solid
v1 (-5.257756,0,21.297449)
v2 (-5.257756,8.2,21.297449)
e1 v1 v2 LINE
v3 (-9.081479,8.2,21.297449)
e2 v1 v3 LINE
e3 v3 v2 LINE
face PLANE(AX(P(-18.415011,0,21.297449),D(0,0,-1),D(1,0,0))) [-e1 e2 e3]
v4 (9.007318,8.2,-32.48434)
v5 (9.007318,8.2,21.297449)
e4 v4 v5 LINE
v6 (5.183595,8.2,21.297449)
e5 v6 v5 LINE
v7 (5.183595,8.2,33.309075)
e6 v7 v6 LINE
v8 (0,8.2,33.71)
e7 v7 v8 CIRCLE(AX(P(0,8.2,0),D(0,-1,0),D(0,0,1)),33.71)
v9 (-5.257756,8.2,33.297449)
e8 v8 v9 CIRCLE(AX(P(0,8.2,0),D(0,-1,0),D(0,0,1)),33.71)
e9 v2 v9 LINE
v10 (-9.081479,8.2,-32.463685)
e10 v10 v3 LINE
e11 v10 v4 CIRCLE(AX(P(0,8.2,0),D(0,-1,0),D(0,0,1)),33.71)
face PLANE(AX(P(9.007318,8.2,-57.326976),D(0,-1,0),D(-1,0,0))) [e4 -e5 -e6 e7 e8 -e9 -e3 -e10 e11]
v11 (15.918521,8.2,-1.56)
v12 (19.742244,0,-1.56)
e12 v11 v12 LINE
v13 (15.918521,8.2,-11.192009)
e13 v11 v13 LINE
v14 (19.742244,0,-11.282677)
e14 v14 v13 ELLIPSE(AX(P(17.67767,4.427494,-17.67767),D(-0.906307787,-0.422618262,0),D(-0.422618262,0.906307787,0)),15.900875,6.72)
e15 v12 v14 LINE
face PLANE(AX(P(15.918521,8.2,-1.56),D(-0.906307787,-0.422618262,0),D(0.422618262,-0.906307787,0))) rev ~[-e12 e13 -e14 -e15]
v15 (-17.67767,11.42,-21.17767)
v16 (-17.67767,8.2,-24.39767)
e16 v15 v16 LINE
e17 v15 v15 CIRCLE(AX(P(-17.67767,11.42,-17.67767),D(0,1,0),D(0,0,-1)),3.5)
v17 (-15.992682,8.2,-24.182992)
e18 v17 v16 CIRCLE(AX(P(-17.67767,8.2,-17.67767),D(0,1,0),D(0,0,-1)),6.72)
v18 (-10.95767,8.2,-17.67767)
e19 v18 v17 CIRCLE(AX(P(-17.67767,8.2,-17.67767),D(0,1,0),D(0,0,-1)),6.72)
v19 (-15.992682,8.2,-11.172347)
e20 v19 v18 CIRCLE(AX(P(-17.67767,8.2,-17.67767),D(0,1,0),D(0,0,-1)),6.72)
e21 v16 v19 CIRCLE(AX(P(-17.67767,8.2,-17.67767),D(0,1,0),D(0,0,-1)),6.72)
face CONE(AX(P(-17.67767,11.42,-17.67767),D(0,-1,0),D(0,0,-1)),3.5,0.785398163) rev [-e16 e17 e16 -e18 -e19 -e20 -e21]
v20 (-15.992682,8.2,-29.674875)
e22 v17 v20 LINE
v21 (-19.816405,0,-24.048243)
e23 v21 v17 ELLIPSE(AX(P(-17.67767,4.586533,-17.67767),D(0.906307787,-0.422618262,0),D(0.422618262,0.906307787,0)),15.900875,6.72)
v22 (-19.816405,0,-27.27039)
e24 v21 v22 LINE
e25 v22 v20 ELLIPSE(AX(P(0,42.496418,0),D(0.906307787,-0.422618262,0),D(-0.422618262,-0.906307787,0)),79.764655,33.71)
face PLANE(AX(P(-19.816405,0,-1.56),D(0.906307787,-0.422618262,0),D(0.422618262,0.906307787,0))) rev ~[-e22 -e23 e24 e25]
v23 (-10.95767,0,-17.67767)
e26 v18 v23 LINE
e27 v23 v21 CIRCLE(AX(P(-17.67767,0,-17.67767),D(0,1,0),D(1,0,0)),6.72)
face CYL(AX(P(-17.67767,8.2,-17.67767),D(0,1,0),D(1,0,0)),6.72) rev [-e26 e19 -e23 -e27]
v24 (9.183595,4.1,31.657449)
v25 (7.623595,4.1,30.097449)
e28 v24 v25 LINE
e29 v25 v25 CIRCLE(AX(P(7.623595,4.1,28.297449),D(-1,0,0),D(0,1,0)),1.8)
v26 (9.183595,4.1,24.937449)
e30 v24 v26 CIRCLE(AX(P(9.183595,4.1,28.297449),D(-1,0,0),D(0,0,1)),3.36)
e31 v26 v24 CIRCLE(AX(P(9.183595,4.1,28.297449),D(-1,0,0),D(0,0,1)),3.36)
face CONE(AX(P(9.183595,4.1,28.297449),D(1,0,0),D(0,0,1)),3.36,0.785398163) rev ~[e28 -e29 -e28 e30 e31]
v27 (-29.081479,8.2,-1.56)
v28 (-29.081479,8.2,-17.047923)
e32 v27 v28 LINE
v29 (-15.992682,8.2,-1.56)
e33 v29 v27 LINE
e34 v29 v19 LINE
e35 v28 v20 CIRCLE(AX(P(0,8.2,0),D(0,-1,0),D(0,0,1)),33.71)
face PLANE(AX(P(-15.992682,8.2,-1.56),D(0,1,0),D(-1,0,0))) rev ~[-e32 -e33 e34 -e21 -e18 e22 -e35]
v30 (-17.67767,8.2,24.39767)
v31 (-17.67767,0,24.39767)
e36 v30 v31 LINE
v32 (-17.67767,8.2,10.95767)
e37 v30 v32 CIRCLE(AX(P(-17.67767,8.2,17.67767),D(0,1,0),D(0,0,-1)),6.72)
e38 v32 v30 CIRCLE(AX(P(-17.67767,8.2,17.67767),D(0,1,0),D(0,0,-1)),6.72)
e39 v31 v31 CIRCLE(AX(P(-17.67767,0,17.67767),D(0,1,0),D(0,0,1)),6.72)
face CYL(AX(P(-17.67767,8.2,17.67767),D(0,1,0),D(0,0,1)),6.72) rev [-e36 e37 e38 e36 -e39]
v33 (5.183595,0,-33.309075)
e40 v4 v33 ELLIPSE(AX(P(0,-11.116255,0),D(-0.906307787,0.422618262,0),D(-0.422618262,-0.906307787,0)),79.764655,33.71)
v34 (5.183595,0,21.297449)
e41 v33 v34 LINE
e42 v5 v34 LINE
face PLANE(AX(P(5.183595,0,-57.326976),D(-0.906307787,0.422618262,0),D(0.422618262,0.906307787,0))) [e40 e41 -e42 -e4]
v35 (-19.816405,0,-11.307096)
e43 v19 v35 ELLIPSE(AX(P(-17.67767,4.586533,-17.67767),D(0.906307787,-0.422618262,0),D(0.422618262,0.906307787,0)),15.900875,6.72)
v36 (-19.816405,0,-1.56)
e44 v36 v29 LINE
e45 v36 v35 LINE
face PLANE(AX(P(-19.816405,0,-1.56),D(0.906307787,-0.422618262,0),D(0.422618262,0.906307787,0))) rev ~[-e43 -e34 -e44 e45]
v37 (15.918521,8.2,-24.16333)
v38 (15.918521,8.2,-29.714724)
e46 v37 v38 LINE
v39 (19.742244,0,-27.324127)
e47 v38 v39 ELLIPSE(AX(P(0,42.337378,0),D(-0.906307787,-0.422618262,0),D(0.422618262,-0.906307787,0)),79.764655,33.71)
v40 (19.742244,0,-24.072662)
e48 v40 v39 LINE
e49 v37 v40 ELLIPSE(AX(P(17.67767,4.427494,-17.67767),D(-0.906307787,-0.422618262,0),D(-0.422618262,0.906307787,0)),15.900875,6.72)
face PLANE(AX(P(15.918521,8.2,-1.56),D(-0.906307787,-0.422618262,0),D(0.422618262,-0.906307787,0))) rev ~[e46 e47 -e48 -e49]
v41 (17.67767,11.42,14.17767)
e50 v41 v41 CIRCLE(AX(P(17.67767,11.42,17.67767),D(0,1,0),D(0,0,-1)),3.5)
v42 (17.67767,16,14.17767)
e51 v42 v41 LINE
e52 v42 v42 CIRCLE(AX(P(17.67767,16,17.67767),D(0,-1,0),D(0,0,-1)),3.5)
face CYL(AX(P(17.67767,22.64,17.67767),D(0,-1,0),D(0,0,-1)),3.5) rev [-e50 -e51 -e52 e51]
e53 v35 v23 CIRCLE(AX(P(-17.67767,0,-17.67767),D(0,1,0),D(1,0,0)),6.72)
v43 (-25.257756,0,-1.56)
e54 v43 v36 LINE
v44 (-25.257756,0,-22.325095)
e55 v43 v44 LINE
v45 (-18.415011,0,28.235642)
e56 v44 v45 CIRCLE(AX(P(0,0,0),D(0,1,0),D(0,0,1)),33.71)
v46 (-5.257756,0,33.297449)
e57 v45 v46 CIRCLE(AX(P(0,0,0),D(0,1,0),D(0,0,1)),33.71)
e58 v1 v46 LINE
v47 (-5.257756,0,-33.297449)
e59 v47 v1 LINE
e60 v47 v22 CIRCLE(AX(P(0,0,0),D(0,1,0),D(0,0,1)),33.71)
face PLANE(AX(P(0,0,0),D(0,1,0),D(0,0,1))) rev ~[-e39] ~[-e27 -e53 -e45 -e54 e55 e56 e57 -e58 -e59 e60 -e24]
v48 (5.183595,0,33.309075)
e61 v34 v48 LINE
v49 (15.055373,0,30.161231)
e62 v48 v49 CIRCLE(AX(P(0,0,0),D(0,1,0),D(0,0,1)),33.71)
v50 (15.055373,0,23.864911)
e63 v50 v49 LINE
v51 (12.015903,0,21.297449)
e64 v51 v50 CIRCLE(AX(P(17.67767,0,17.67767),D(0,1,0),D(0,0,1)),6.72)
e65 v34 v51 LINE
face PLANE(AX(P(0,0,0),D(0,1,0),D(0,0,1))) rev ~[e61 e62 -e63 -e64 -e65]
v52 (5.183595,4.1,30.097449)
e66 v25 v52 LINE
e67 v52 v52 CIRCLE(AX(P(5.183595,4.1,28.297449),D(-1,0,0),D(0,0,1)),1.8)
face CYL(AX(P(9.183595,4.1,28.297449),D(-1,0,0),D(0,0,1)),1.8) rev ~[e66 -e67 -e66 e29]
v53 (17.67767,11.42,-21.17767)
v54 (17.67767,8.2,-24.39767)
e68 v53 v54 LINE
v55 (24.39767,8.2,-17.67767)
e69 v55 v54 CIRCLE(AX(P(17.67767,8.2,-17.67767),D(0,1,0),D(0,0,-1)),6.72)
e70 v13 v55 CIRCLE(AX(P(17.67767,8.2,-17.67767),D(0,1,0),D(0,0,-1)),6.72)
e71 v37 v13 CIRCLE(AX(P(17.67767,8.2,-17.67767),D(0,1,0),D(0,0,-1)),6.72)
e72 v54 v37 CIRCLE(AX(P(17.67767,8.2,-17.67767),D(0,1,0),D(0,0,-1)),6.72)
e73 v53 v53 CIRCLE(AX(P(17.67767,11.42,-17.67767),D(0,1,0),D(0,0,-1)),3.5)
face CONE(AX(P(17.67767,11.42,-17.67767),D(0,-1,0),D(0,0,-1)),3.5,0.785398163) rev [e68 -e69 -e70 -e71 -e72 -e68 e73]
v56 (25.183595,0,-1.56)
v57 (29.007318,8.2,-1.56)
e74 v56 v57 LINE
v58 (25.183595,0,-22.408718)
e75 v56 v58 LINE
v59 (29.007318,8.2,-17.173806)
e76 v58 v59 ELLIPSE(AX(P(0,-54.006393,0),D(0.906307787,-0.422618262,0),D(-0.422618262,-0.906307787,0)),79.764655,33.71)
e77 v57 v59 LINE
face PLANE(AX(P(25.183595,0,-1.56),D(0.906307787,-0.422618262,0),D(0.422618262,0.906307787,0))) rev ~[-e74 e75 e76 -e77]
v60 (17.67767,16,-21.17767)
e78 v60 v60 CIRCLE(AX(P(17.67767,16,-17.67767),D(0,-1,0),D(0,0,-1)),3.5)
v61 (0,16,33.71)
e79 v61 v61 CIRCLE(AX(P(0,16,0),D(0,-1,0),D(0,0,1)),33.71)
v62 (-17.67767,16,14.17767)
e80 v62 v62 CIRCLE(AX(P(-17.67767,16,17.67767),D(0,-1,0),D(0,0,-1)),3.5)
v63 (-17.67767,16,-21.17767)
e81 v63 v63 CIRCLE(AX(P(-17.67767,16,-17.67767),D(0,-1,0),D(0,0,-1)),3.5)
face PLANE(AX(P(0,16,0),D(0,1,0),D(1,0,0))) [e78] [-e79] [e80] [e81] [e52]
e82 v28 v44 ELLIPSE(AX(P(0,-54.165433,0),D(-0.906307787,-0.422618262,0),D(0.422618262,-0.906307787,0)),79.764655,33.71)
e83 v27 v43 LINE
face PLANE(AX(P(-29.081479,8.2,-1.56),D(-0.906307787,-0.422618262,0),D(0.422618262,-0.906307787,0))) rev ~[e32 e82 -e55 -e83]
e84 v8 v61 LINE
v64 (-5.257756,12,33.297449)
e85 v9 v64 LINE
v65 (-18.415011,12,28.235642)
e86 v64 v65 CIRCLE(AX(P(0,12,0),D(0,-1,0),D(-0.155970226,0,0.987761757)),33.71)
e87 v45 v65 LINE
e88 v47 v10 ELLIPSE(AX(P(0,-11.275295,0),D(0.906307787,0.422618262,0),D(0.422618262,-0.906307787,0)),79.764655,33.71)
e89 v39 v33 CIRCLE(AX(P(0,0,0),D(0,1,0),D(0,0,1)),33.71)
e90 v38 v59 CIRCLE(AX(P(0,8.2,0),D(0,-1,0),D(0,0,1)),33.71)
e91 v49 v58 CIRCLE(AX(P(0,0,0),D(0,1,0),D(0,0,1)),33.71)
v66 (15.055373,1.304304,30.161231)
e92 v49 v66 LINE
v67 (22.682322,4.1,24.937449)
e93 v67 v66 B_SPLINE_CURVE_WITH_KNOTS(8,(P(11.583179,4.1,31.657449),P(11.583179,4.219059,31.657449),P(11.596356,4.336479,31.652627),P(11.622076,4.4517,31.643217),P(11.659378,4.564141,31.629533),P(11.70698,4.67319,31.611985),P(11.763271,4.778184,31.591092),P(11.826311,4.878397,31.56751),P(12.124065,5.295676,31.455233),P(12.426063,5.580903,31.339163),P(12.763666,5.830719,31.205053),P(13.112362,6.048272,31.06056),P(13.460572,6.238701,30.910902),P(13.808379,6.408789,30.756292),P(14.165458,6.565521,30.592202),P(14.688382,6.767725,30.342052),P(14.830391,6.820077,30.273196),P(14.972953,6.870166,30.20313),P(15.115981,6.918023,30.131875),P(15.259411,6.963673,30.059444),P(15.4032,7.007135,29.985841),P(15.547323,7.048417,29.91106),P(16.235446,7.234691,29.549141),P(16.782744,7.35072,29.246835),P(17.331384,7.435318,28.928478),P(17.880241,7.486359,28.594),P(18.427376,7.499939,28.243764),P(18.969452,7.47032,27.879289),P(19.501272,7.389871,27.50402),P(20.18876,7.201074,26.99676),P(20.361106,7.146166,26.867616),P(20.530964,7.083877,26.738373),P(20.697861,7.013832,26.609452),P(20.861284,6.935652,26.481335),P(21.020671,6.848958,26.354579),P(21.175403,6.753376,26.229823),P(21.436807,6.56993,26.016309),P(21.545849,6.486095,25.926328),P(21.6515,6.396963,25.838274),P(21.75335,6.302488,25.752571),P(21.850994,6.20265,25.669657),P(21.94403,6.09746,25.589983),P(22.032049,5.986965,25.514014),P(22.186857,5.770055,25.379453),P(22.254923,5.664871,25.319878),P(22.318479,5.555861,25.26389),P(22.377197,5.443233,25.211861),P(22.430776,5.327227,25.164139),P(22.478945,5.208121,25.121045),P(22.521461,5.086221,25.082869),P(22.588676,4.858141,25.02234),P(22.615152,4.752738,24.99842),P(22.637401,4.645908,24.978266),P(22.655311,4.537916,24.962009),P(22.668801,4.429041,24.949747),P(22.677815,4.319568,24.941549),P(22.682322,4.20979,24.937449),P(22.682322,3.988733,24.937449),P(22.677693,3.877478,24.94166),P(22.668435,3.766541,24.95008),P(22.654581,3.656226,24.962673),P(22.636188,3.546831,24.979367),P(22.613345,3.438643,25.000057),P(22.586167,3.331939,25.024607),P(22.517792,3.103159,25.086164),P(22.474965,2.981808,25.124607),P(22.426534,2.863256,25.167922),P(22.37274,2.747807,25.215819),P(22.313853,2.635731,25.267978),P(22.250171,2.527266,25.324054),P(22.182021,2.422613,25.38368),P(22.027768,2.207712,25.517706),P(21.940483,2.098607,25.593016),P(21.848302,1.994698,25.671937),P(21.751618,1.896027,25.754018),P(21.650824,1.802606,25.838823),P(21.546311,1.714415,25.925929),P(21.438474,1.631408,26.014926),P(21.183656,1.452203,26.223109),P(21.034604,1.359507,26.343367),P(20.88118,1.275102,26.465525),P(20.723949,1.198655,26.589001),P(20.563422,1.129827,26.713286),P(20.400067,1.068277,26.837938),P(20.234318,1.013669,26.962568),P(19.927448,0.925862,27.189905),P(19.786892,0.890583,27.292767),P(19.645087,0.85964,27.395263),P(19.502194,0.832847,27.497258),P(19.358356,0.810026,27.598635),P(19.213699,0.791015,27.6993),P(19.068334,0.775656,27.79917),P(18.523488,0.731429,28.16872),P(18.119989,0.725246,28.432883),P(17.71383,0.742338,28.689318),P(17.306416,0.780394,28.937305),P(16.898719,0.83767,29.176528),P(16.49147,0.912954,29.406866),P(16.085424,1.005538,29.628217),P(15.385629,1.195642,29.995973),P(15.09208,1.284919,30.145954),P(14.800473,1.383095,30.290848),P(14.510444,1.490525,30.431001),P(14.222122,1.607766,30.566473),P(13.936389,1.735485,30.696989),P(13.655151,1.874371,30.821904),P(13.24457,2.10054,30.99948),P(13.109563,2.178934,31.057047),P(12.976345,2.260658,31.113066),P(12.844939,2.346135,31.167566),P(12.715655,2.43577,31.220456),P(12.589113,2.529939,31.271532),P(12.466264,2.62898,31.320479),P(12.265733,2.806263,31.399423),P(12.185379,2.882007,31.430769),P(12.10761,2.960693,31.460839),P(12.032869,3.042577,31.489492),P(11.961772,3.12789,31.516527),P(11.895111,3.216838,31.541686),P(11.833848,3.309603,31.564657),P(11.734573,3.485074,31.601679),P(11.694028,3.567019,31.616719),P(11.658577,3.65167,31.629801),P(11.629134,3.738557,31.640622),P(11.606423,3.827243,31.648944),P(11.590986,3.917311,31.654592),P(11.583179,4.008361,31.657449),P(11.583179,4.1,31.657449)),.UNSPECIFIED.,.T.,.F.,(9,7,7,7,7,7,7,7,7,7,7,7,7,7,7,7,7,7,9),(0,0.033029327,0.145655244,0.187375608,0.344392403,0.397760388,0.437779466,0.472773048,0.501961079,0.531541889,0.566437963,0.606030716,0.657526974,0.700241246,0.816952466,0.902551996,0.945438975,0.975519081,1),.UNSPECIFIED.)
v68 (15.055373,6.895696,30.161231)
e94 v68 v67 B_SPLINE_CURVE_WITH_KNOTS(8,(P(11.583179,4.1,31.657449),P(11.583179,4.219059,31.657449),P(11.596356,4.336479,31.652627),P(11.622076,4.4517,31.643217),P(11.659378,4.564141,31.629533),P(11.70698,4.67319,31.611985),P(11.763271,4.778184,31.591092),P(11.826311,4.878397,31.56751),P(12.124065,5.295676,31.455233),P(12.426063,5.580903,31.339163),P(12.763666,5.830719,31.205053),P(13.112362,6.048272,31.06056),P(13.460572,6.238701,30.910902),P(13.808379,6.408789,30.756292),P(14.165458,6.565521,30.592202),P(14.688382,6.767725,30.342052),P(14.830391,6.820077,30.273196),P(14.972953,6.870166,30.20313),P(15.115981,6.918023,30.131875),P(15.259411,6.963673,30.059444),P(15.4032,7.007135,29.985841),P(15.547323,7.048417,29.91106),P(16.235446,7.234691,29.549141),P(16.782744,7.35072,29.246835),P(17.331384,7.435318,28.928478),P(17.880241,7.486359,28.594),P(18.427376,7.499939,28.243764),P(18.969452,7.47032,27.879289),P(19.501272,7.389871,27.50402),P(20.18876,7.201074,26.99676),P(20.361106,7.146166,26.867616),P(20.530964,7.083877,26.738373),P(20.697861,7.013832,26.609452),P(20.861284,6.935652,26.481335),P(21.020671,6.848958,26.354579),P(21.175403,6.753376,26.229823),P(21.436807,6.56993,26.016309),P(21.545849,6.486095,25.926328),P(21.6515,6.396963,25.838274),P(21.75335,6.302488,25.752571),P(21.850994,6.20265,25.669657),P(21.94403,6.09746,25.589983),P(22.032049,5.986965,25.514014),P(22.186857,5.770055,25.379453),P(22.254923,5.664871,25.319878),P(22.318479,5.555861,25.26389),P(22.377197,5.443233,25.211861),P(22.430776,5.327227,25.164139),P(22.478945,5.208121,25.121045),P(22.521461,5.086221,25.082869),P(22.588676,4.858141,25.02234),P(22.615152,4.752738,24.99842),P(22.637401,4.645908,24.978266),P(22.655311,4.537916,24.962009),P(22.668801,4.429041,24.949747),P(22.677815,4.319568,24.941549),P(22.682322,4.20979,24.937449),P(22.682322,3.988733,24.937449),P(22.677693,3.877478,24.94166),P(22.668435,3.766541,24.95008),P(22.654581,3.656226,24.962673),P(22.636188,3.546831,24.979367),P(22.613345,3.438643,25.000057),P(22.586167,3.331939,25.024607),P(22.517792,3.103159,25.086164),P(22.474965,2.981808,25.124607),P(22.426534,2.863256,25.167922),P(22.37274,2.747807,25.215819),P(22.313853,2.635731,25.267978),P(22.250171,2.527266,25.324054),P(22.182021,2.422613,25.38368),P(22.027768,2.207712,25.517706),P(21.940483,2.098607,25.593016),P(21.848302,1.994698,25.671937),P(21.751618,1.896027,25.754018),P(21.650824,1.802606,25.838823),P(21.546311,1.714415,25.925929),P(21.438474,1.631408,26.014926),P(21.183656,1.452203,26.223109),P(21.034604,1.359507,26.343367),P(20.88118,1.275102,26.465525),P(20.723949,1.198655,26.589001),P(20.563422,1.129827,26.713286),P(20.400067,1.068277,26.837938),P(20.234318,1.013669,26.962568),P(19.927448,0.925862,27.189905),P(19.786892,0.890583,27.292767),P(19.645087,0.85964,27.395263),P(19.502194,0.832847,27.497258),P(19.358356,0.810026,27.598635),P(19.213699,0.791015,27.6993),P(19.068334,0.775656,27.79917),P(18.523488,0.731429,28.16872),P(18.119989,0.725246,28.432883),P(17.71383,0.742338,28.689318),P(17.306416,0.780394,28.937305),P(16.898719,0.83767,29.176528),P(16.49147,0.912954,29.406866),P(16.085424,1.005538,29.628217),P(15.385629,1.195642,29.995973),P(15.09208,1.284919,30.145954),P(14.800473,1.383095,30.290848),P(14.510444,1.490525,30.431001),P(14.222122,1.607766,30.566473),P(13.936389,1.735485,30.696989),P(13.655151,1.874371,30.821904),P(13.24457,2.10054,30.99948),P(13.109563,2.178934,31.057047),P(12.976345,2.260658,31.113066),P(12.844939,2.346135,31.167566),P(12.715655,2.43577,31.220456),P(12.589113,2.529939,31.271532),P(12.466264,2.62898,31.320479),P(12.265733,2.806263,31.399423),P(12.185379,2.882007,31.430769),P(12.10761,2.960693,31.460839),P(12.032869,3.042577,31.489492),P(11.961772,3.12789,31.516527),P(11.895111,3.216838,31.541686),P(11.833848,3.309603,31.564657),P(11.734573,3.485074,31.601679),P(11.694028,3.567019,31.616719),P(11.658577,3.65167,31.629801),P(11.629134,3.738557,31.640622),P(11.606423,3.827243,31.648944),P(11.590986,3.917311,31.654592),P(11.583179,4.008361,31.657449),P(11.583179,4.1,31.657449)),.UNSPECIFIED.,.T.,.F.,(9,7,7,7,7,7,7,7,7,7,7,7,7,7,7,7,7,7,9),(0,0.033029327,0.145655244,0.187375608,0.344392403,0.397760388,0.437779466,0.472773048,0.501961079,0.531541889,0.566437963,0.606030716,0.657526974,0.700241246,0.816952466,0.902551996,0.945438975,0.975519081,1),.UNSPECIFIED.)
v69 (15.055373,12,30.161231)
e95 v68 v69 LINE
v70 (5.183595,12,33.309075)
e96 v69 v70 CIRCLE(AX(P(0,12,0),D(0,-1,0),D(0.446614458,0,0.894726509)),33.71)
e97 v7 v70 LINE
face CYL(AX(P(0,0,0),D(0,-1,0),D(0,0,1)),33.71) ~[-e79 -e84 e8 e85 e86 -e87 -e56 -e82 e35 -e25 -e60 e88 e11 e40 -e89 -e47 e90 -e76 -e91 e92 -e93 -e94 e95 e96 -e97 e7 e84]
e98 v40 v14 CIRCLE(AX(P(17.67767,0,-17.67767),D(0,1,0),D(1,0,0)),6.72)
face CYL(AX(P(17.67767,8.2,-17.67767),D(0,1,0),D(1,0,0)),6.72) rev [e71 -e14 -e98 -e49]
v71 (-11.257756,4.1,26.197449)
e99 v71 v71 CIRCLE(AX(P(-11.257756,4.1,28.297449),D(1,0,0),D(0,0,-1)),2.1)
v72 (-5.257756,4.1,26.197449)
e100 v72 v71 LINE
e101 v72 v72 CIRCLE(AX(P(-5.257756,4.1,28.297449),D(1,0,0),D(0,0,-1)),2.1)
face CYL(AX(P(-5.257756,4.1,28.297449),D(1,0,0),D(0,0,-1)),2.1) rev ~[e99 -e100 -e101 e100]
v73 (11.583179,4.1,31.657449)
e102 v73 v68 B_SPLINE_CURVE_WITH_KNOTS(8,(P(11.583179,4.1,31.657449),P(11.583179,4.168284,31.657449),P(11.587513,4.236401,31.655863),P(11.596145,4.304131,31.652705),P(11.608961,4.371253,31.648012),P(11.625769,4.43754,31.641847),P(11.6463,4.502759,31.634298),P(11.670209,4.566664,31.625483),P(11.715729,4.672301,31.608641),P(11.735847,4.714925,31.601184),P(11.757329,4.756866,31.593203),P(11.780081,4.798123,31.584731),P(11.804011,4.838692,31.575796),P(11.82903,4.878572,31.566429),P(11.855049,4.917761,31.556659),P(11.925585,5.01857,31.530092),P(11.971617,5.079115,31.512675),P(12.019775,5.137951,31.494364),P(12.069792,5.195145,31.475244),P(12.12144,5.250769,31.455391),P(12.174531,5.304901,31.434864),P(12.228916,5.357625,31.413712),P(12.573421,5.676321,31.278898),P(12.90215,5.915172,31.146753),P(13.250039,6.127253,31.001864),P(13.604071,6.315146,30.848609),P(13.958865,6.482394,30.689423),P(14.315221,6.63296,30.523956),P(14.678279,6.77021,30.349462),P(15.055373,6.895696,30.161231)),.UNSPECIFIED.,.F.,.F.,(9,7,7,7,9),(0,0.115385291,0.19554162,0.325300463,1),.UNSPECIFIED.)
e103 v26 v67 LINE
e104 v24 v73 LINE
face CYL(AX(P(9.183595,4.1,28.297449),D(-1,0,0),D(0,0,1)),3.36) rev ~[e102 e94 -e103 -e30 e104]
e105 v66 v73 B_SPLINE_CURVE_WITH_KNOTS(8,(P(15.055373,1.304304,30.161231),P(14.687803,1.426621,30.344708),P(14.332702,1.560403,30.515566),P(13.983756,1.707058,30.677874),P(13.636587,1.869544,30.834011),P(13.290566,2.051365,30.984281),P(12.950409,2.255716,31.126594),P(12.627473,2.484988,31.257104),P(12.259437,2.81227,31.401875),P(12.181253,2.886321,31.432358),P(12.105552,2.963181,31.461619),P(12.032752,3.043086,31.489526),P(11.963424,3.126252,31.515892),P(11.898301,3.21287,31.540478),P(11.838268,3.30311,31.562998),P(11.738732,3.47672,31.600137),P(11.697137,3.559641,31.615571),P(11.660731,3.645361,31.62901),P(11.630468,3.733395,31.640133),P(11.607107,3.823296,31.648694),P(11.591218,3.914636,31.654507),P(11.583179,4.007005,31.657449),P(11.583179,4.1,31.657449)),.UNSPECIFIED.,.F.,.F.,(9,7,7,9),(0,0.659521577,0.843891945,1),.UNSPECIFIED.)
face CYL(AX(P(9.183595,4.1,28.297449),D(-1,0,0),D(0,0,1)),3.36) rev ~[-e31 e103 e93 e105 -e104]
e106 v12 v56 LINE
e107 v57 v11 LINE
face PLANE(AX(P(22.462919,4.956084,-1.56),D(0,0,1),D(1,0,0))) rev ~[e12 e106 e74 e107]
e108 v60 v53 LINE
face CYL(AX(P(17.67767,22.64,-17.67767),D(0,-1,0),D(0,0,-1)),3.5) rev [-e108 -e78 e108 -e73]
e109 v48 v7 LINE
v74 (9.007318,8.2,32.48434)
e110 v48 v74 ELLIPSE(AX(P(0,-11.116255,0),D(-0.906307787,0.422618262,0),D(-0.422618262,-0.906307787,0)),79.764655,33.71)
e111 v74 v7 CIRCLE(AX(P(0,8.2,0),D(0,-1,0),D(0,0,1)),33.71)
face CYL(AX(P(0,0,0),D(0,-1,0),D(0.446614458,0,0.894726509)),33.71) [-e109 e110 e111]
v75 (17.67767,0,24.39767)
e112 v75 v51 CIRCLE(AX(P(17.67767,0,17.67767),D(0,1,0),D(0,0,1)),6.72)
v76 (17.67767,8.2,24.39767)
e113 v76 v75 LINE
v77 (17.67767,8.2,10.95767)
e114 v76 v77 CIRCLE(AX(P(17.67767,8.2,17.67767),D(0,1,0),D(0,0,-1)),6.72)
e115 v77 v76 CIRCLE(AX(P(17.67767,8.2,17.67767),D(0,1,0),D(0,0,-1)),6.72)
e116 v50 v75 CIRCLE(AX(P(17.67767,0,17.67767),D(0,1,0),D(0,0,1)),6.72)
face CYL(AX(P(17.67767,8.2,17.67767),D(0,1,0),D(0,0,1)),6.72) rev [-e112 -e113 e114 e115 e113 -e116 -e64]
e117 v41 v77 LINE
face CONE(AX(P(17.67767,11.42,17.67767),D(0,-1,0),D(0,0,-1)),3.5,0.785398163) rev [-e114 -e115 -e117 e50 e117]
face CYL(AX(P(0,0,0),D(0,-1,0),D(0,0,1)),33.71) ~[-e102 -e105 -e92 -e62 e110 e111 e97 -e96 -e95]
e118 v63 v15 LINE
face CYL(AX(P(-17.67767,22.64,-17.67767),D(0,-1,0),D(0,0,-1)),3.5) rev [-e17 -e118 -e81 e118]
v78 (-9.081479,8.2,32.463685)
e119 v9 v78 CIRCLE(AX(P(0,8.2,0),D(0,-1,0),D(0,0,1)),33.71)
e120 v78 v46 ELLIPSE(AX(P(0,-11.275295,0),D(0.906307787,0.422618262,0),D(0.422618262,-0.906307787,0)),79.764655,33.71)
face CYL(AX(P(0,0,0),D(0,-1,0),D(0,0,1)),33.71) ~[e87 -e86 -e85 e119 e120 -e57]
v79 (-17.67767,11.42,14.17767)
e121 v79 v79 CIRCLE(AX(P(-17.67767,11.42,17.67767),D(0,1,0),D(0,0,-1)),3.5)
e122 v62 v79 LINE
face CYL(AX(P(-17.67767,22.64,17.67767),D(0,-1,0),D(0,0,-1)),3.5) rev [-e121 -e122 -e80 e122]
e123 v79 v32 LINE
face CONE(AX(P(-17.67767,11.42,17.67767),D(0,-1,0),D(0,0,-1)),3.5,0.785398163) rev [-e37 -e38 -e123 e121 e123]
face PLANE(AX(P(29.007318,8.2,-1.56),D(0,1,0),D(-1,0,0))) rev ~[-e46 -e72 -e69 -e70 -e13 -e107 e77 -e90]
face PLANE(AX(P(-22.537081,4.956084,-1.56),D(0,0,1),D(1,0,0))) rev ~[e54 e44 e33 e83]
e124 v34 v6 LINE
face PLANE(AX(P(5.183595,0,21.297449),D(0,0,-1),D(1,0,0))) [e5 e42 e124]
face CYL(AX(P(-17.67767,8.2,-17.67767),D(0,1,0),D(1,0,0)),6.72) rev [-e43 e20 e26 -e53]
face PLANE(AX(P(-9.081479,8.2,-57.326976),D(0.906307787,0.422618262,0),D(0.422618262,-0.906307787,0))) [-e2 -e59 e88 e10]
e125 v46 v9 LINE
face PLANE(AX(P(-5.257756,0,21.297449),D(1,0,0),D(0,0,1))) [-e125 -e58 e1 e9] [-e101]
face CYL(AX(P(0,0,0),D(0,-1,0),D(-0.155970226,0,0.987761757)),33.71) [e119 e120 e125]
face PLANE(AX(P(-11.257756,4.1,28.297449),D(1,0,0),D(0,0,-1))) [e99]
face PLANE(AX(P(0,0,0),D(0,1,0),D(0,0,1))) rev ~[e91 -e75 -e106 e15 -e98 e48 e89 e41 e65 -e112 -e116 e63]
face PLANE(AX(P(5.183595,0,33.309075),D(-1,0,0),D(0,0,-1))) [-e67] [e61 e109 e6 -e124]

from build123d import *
from build123d.topology import SkipClean

# Parameters (mm, degrees)
SKETCH63_R                                           = 33.71
BOSS_EXTRUDE14_DEPTH                                 = 30
CUT_EXTRUDE16_START                                  = -1.56
CUT_EXTRUDE16_DEPTH                                  = 55.766975775
CUT_EXTRUDE17_DEPTH                                  = 57.326975775
CUT_EXTRUDE17_DEPTH_BACK                             = 57.326975775
BOSS_EXTRUDE15_DEPTH                                 = 12
CUT_EXTRUDE18_START                                  = -5.22
SKETCH69_R                                           = 2.1
CUT_EXTRUDE18_DEPTH                                  = 6
SKETCH70_R                                           = 3.36
SKETCH70_R_2                                         = 2.1
CUT_EXTRUDE19_DEPTH                                  = 63.259333256
CSK_FOR_M3_HEX_SOCKET_COUNTERSUNK_CAP_SC_D           = 3.6
CSK_FOR_M3_HEX_SOCKET_COUNTERSUNK_CAP_SC_DEPTH       = 14.440351168
CSK_FOR_M3_HEX_SOCKET_COUNTERSUNK_CAP_SC_CSINK_D     = 6.72
CSK_FOR_M3_HEX_SOCKET_COUNTERSUNK_CAP_SC_CSINK_ANGLE = 90
CSK_FOR_M3_HEX_SOCKET_COUNTERSUNK_CAP_SC_TIP         = 1.081549114
SKETCH74_R                                           = 44.614790837
CUT_EXTRUDE20_DEPTH                                  = 14
CSK_FOR_M6_HEX_SOCKET_COUNTERSUNK_CA_2_COUNT         = 2
CSK_FOR_M6_HEX_SOCKET_COUNTERSUNK_CA_2_PITCH         = 35.355339059
CSK_FOR_M6_HEX_SOCKET_COUNTERSUNK_CA_3_COUNT         = 2
CSK_FOR_M6_HEX_SOCKET_COUNTERSUNK_CA_3_PITCH         = 35.355339059
CSK_FOR_M6_HEX_SOCKET_COUNTERSUNK_CA_4_COUNT         = 2
CSK_FOR_M6_HEX_SOCKET_COUNTERSUNK_CA_4_PITCH         = 50
SKETCH79_R                                           = 6.72
CUT_EXTRUDE21_DEPTH                                  = 15


with BuildPart() as part:
    # Sketch63 → Boss-Extrude14 (new body)
    with BuildSketch(Plane(origin=(0, 0, 0), x_dir=(1, 0, 0), z_dir=(0, 1, 0))):
        with Locations(Location((0, 0, 0), (0, 0, 270))):
            Circle(SKETCH63_R)
    extrude(amount=BOSS_EXTRUDE14_DEPTH)

    # Sketch67 → Cut-Extrude16 (cut, through all)
    with BuildSketch(Plane.XY.offset(CUT_EXTRUDE16_START)):
        Polygon((-25.257756337, 0), (-19.816405169, 0), (-15.992682372, 8.2), (-29.081479134, 8.2), align=None)
        Polygon((19.742243663, 0), (25.183594831, 0), (29.007317628, 8.2), (15.918520866, 8.2), align=None)
    extrude(amount=-CUT_EXTRUDE16_DEPTH, mode=Mode.SUBTRACT)

    # Sketch67<3> → Cut-Extrude17 (cut, two sides: drawn at the far end of the back side and taken through both)
    with BuildSketch(Plane.XY.offset(-CUT_EXTRUDE17_DEPTH_BACK)):
        Polygon((-5.257756337, 0), (5.183594831, 0), (9.007317628, 8.2), (-9.081479134, 8.2), align=None)
    extrude(amount=CUT_EXTRUDE17_DEPTH + CUT_EXTRUDE17_DEPTH_BACK, mode=Mode.SUBTRACT)

    # Sketch68 → Boss-Extrude15 (add)
    with SkipClean():  # the faces are left unmerged after this step: merging them gives an invalid solid
        with BuildSketch(Plane.XZ):
            with BuildLine():
                Line((-5.257756337, 21.297448826), (-5.257756337, 33.297448826))
                ThreePointArc((-5.257756337, 33.297448826), (-12.10394362, 31.462019148), (-18.415011022, 28.235641821))
                Line((-18.415011022, 28.235641821), (-18.415011022, 21.297448826))
                Line((-18.415011022, 21.297448826), (-5.257756337, 21.297448826))
            make_face()
            with BuildLine():
                ThreePointArc((15.05537339, 30.161230613), (10.24115174, 32.116707662), (5.183594831, 33.309074509))
                Line((5.183594831, 33.309074509), (5.183594831, 21.297448826))
                Line((5.183594831, 21.297448826), (15.05537339, 21.297448826))
                Line((15.05537339, 21.297448826), (15.05537339, 30.161230613))
            make_face()
        extrude(amount=-BOSS_EXTRUDE15_DEPTH)

    # Sketch69 → Cut-Extrude18 (cut)
    with SkipClean():  # the faces are left unmerged after this step: merging them gives an invalid solid
        with BuildSketch(Plane(origin=(-0.037756337, 0, 0), x_dir=(0, 0, -1), z_dir=(1, 0, 0)).offset(CUT_EXTRUDE18_START)):
            with Locations((-28.297448826, 4.1)):
                Circle(SKETCH69_R)
        extrude(amount=-CUT_EXTRUDE18_DEPTH, mode=Mode.SUBTRACT)

    # Sketch70 → Cut-Extrude19 (cut, through all)
    # profile 1 of 2: a face of its own
    with SkipClean():  # the faces are left unmerged after this step: merging them gives an invalid solid
        with BuildSketch(Plane.ZY.offset(-9.183594831)):
            with Locations((28.297448826, 4.1)):
                Circle(SKETCH70_R)
            with Locations(Location((28.297448826, 4.1, 0), (0, 0, 180))):
                Circle(SKETCH70_R_2, mode=Mode.SUBTRACT)
        # profile 2 of 2: a face of its own
        with BuildSketch(Plane.ZY.offset(-9.183594831)):
            with Locations(Location((28.297448826, 4.1, 0), (0, 0, 180))):
                Circle(SKETCH70_R_2)
        extrude(amount=-CUT_EXTRUDE19_DEPTH, mode=Mode.SUBTRACT)

    # CSK for M3 Hex Socket Countersunk Cap Screw9
    with Locations(Plane(origin=(9.183594831, 0, 0), x_dir=(0, 0, -1), z_dir=(1, 0, 0))):
        with Locations((-28.297448826, 4.1)):
            CounterSinkHole(CSK_FOR_M3_HEX_SOCKET_COUNTERSUNK_CAP_SC_D / 2, CSK_FOR_M3_HEX_SOCKET_COUNTERSUNK_CAP_SC_CSINK_D / 2, depth=CSK_FOR_M3_HEX_SOCKET_COUNTERSUNK_CAP_SC_DEPTH, counter_sink_angle=CSK_FOR_M3_HEX_SOCKET_COUNTERSUNK_CAP_SC_CSINK_ANGLE)
            with Locations((0, 0, -(CSK_FOR_M3_HEX_SOCKET_COUNTERSUNK_CAP_SC_DEPTH + CSK_FOR_M3_HEX_SOCKET_COUNTERSUNK_CAP_SC_TIP / 2))):  # 118° drill point
                Cone(0, CSK_FOR_M3_HEX_SOCKET_COUNTERSUNK_CAP_SC_D / 2, CSK_FOR_M3_HEX_SOCKET_COUNTERSUNK_CAP_SC_TIP, mode=Mode.SUBTRACT)

    # Sketch74 → Cut-Extrude20 (cut)
    with SkipClean():  # the faces are left unmerged after this step: merging them gives an invalid solid
        with BuildSketch(Plane(origin=(0, 30, 0), x_dir=(1, 0, 0), z_dir=(0, 1, 0))):
            Circle(SKETCH74_R)
        extrude(amount=-CUT_EXTRUDE20_DEPTH, mode=Mode.SUBTRACT)

    # Sketch78 → CSK for M6 Hex Socket Countersunk Cap Screw4 (revolve, cut)
    with SkipClean():  # the faces are left unmerged after this step: merging them gives an invalid solid
        with BuildSketch(Plane(origin=(-17.67766953, 8.2, 17.67766953), x_dir=(0, 0, -1), z_dir=(1, 0, 0))):
            Polygon((0, 0), (0, 16.543012167), (3.5, 14.44), (3.5, 3.22), (6.72, 0), align=None)
        csk_for_m6_hex_socket_countersunk_cap_sc = revolve(axis=Axis((-17.67766953, 1.85, 17.67766953), (0, 1, 0)), mode=Mode.SUBTRACT)

    # CSK for M6 Hex Socket Countersunk Ca 2: CSK for M6 Hex Socket Countersunk Cap Screw4 ×2
    with SkipClean():  # the faces are left unmerged after this step: merging them gives an invalid solid
        with Locations(*[(i * CSK_FOR_M6_HEX_SOCKET_COUNTERSUNK_CA_2_PITCH, 0, 0) for i in range(1, CSK_FOR_M6_HEX_SOCKET_COUNTERSUNK_CA_2_COUNT)]):
            add(csk_for_m6_hex_socket_countersunk_cap_sc, mode=Mode.SUBTRACT)

    # CSK for M6 Hex Socket Countersunk Ca 3: CSK for M6 Hex Socket Countersunk Cap Screw4 ×2
    with SkipClean():  # the faces are left unmerged after this step: merging them gives an invalid solid
        with Locations(*[(0, 0, -i * CSK_FOR_M6_HEX_SOCKET_COUNTERSUNK_CA_3_PITCH) for i in range(1, CSK_FOR_M6_HEX_SOCKET_COUNTERSUNK_CA_3_COUNT)]):
            add(csk_for_m6_hex_socket_countersunk_cap_sc, mode=Mode.SUBTRACT)

    # CSK for M6 Hex Socket Countersunk Ca 4: CSK for M6 Hex Socket Countersunk Cap Screw4 ×2
    with SkipClean():  # the faces are left unmerged after this step: merging them gives an invalid solid
        with Locations(*[Vector(0.7071067811865438, 0, -0.7071067811865512) * (i * CSK_FOR_M6_HEX_SOCKET_COUNTERSUNK_CA_4_PITCH) for i in range(1, CSK_FOR_M6_HEX_SOCKET_COUNTERSUNK_CA_4_COUNT)]):
            add(csk_for_m6_hex_socket_countersunk_cap_sc, mode=Mode.SUBTRACT)

    # Sketch79 → Cut-Extrude21 (cut)
    with SkipClean():  # the faces are left unmerged after this step: merging them gives an invalid solid
        with BuildSketch(Plane.XZ.offset(-8.2)):
            with Locations((-17.67766953, -17.67766953)):
                Circle(SKETCH79_R)
            with Locations((17.67766953, -17.67766953)):
                Circle(SKETCH79_R)
            with Locations(Location((17.67766953, 17.67766953, 0), (0, 0, 90))):
                Circle(SKETCH79_R)
            with Locations(Location((-17.67766953, 17.67766953, 0), (0, 0, 90))):
                Circle(SKETCH79_R)
        extrude(amount=CUT_EXTRUDE21_DEPTH, mode=Mode.SUBTRACT)


solid = part.part
